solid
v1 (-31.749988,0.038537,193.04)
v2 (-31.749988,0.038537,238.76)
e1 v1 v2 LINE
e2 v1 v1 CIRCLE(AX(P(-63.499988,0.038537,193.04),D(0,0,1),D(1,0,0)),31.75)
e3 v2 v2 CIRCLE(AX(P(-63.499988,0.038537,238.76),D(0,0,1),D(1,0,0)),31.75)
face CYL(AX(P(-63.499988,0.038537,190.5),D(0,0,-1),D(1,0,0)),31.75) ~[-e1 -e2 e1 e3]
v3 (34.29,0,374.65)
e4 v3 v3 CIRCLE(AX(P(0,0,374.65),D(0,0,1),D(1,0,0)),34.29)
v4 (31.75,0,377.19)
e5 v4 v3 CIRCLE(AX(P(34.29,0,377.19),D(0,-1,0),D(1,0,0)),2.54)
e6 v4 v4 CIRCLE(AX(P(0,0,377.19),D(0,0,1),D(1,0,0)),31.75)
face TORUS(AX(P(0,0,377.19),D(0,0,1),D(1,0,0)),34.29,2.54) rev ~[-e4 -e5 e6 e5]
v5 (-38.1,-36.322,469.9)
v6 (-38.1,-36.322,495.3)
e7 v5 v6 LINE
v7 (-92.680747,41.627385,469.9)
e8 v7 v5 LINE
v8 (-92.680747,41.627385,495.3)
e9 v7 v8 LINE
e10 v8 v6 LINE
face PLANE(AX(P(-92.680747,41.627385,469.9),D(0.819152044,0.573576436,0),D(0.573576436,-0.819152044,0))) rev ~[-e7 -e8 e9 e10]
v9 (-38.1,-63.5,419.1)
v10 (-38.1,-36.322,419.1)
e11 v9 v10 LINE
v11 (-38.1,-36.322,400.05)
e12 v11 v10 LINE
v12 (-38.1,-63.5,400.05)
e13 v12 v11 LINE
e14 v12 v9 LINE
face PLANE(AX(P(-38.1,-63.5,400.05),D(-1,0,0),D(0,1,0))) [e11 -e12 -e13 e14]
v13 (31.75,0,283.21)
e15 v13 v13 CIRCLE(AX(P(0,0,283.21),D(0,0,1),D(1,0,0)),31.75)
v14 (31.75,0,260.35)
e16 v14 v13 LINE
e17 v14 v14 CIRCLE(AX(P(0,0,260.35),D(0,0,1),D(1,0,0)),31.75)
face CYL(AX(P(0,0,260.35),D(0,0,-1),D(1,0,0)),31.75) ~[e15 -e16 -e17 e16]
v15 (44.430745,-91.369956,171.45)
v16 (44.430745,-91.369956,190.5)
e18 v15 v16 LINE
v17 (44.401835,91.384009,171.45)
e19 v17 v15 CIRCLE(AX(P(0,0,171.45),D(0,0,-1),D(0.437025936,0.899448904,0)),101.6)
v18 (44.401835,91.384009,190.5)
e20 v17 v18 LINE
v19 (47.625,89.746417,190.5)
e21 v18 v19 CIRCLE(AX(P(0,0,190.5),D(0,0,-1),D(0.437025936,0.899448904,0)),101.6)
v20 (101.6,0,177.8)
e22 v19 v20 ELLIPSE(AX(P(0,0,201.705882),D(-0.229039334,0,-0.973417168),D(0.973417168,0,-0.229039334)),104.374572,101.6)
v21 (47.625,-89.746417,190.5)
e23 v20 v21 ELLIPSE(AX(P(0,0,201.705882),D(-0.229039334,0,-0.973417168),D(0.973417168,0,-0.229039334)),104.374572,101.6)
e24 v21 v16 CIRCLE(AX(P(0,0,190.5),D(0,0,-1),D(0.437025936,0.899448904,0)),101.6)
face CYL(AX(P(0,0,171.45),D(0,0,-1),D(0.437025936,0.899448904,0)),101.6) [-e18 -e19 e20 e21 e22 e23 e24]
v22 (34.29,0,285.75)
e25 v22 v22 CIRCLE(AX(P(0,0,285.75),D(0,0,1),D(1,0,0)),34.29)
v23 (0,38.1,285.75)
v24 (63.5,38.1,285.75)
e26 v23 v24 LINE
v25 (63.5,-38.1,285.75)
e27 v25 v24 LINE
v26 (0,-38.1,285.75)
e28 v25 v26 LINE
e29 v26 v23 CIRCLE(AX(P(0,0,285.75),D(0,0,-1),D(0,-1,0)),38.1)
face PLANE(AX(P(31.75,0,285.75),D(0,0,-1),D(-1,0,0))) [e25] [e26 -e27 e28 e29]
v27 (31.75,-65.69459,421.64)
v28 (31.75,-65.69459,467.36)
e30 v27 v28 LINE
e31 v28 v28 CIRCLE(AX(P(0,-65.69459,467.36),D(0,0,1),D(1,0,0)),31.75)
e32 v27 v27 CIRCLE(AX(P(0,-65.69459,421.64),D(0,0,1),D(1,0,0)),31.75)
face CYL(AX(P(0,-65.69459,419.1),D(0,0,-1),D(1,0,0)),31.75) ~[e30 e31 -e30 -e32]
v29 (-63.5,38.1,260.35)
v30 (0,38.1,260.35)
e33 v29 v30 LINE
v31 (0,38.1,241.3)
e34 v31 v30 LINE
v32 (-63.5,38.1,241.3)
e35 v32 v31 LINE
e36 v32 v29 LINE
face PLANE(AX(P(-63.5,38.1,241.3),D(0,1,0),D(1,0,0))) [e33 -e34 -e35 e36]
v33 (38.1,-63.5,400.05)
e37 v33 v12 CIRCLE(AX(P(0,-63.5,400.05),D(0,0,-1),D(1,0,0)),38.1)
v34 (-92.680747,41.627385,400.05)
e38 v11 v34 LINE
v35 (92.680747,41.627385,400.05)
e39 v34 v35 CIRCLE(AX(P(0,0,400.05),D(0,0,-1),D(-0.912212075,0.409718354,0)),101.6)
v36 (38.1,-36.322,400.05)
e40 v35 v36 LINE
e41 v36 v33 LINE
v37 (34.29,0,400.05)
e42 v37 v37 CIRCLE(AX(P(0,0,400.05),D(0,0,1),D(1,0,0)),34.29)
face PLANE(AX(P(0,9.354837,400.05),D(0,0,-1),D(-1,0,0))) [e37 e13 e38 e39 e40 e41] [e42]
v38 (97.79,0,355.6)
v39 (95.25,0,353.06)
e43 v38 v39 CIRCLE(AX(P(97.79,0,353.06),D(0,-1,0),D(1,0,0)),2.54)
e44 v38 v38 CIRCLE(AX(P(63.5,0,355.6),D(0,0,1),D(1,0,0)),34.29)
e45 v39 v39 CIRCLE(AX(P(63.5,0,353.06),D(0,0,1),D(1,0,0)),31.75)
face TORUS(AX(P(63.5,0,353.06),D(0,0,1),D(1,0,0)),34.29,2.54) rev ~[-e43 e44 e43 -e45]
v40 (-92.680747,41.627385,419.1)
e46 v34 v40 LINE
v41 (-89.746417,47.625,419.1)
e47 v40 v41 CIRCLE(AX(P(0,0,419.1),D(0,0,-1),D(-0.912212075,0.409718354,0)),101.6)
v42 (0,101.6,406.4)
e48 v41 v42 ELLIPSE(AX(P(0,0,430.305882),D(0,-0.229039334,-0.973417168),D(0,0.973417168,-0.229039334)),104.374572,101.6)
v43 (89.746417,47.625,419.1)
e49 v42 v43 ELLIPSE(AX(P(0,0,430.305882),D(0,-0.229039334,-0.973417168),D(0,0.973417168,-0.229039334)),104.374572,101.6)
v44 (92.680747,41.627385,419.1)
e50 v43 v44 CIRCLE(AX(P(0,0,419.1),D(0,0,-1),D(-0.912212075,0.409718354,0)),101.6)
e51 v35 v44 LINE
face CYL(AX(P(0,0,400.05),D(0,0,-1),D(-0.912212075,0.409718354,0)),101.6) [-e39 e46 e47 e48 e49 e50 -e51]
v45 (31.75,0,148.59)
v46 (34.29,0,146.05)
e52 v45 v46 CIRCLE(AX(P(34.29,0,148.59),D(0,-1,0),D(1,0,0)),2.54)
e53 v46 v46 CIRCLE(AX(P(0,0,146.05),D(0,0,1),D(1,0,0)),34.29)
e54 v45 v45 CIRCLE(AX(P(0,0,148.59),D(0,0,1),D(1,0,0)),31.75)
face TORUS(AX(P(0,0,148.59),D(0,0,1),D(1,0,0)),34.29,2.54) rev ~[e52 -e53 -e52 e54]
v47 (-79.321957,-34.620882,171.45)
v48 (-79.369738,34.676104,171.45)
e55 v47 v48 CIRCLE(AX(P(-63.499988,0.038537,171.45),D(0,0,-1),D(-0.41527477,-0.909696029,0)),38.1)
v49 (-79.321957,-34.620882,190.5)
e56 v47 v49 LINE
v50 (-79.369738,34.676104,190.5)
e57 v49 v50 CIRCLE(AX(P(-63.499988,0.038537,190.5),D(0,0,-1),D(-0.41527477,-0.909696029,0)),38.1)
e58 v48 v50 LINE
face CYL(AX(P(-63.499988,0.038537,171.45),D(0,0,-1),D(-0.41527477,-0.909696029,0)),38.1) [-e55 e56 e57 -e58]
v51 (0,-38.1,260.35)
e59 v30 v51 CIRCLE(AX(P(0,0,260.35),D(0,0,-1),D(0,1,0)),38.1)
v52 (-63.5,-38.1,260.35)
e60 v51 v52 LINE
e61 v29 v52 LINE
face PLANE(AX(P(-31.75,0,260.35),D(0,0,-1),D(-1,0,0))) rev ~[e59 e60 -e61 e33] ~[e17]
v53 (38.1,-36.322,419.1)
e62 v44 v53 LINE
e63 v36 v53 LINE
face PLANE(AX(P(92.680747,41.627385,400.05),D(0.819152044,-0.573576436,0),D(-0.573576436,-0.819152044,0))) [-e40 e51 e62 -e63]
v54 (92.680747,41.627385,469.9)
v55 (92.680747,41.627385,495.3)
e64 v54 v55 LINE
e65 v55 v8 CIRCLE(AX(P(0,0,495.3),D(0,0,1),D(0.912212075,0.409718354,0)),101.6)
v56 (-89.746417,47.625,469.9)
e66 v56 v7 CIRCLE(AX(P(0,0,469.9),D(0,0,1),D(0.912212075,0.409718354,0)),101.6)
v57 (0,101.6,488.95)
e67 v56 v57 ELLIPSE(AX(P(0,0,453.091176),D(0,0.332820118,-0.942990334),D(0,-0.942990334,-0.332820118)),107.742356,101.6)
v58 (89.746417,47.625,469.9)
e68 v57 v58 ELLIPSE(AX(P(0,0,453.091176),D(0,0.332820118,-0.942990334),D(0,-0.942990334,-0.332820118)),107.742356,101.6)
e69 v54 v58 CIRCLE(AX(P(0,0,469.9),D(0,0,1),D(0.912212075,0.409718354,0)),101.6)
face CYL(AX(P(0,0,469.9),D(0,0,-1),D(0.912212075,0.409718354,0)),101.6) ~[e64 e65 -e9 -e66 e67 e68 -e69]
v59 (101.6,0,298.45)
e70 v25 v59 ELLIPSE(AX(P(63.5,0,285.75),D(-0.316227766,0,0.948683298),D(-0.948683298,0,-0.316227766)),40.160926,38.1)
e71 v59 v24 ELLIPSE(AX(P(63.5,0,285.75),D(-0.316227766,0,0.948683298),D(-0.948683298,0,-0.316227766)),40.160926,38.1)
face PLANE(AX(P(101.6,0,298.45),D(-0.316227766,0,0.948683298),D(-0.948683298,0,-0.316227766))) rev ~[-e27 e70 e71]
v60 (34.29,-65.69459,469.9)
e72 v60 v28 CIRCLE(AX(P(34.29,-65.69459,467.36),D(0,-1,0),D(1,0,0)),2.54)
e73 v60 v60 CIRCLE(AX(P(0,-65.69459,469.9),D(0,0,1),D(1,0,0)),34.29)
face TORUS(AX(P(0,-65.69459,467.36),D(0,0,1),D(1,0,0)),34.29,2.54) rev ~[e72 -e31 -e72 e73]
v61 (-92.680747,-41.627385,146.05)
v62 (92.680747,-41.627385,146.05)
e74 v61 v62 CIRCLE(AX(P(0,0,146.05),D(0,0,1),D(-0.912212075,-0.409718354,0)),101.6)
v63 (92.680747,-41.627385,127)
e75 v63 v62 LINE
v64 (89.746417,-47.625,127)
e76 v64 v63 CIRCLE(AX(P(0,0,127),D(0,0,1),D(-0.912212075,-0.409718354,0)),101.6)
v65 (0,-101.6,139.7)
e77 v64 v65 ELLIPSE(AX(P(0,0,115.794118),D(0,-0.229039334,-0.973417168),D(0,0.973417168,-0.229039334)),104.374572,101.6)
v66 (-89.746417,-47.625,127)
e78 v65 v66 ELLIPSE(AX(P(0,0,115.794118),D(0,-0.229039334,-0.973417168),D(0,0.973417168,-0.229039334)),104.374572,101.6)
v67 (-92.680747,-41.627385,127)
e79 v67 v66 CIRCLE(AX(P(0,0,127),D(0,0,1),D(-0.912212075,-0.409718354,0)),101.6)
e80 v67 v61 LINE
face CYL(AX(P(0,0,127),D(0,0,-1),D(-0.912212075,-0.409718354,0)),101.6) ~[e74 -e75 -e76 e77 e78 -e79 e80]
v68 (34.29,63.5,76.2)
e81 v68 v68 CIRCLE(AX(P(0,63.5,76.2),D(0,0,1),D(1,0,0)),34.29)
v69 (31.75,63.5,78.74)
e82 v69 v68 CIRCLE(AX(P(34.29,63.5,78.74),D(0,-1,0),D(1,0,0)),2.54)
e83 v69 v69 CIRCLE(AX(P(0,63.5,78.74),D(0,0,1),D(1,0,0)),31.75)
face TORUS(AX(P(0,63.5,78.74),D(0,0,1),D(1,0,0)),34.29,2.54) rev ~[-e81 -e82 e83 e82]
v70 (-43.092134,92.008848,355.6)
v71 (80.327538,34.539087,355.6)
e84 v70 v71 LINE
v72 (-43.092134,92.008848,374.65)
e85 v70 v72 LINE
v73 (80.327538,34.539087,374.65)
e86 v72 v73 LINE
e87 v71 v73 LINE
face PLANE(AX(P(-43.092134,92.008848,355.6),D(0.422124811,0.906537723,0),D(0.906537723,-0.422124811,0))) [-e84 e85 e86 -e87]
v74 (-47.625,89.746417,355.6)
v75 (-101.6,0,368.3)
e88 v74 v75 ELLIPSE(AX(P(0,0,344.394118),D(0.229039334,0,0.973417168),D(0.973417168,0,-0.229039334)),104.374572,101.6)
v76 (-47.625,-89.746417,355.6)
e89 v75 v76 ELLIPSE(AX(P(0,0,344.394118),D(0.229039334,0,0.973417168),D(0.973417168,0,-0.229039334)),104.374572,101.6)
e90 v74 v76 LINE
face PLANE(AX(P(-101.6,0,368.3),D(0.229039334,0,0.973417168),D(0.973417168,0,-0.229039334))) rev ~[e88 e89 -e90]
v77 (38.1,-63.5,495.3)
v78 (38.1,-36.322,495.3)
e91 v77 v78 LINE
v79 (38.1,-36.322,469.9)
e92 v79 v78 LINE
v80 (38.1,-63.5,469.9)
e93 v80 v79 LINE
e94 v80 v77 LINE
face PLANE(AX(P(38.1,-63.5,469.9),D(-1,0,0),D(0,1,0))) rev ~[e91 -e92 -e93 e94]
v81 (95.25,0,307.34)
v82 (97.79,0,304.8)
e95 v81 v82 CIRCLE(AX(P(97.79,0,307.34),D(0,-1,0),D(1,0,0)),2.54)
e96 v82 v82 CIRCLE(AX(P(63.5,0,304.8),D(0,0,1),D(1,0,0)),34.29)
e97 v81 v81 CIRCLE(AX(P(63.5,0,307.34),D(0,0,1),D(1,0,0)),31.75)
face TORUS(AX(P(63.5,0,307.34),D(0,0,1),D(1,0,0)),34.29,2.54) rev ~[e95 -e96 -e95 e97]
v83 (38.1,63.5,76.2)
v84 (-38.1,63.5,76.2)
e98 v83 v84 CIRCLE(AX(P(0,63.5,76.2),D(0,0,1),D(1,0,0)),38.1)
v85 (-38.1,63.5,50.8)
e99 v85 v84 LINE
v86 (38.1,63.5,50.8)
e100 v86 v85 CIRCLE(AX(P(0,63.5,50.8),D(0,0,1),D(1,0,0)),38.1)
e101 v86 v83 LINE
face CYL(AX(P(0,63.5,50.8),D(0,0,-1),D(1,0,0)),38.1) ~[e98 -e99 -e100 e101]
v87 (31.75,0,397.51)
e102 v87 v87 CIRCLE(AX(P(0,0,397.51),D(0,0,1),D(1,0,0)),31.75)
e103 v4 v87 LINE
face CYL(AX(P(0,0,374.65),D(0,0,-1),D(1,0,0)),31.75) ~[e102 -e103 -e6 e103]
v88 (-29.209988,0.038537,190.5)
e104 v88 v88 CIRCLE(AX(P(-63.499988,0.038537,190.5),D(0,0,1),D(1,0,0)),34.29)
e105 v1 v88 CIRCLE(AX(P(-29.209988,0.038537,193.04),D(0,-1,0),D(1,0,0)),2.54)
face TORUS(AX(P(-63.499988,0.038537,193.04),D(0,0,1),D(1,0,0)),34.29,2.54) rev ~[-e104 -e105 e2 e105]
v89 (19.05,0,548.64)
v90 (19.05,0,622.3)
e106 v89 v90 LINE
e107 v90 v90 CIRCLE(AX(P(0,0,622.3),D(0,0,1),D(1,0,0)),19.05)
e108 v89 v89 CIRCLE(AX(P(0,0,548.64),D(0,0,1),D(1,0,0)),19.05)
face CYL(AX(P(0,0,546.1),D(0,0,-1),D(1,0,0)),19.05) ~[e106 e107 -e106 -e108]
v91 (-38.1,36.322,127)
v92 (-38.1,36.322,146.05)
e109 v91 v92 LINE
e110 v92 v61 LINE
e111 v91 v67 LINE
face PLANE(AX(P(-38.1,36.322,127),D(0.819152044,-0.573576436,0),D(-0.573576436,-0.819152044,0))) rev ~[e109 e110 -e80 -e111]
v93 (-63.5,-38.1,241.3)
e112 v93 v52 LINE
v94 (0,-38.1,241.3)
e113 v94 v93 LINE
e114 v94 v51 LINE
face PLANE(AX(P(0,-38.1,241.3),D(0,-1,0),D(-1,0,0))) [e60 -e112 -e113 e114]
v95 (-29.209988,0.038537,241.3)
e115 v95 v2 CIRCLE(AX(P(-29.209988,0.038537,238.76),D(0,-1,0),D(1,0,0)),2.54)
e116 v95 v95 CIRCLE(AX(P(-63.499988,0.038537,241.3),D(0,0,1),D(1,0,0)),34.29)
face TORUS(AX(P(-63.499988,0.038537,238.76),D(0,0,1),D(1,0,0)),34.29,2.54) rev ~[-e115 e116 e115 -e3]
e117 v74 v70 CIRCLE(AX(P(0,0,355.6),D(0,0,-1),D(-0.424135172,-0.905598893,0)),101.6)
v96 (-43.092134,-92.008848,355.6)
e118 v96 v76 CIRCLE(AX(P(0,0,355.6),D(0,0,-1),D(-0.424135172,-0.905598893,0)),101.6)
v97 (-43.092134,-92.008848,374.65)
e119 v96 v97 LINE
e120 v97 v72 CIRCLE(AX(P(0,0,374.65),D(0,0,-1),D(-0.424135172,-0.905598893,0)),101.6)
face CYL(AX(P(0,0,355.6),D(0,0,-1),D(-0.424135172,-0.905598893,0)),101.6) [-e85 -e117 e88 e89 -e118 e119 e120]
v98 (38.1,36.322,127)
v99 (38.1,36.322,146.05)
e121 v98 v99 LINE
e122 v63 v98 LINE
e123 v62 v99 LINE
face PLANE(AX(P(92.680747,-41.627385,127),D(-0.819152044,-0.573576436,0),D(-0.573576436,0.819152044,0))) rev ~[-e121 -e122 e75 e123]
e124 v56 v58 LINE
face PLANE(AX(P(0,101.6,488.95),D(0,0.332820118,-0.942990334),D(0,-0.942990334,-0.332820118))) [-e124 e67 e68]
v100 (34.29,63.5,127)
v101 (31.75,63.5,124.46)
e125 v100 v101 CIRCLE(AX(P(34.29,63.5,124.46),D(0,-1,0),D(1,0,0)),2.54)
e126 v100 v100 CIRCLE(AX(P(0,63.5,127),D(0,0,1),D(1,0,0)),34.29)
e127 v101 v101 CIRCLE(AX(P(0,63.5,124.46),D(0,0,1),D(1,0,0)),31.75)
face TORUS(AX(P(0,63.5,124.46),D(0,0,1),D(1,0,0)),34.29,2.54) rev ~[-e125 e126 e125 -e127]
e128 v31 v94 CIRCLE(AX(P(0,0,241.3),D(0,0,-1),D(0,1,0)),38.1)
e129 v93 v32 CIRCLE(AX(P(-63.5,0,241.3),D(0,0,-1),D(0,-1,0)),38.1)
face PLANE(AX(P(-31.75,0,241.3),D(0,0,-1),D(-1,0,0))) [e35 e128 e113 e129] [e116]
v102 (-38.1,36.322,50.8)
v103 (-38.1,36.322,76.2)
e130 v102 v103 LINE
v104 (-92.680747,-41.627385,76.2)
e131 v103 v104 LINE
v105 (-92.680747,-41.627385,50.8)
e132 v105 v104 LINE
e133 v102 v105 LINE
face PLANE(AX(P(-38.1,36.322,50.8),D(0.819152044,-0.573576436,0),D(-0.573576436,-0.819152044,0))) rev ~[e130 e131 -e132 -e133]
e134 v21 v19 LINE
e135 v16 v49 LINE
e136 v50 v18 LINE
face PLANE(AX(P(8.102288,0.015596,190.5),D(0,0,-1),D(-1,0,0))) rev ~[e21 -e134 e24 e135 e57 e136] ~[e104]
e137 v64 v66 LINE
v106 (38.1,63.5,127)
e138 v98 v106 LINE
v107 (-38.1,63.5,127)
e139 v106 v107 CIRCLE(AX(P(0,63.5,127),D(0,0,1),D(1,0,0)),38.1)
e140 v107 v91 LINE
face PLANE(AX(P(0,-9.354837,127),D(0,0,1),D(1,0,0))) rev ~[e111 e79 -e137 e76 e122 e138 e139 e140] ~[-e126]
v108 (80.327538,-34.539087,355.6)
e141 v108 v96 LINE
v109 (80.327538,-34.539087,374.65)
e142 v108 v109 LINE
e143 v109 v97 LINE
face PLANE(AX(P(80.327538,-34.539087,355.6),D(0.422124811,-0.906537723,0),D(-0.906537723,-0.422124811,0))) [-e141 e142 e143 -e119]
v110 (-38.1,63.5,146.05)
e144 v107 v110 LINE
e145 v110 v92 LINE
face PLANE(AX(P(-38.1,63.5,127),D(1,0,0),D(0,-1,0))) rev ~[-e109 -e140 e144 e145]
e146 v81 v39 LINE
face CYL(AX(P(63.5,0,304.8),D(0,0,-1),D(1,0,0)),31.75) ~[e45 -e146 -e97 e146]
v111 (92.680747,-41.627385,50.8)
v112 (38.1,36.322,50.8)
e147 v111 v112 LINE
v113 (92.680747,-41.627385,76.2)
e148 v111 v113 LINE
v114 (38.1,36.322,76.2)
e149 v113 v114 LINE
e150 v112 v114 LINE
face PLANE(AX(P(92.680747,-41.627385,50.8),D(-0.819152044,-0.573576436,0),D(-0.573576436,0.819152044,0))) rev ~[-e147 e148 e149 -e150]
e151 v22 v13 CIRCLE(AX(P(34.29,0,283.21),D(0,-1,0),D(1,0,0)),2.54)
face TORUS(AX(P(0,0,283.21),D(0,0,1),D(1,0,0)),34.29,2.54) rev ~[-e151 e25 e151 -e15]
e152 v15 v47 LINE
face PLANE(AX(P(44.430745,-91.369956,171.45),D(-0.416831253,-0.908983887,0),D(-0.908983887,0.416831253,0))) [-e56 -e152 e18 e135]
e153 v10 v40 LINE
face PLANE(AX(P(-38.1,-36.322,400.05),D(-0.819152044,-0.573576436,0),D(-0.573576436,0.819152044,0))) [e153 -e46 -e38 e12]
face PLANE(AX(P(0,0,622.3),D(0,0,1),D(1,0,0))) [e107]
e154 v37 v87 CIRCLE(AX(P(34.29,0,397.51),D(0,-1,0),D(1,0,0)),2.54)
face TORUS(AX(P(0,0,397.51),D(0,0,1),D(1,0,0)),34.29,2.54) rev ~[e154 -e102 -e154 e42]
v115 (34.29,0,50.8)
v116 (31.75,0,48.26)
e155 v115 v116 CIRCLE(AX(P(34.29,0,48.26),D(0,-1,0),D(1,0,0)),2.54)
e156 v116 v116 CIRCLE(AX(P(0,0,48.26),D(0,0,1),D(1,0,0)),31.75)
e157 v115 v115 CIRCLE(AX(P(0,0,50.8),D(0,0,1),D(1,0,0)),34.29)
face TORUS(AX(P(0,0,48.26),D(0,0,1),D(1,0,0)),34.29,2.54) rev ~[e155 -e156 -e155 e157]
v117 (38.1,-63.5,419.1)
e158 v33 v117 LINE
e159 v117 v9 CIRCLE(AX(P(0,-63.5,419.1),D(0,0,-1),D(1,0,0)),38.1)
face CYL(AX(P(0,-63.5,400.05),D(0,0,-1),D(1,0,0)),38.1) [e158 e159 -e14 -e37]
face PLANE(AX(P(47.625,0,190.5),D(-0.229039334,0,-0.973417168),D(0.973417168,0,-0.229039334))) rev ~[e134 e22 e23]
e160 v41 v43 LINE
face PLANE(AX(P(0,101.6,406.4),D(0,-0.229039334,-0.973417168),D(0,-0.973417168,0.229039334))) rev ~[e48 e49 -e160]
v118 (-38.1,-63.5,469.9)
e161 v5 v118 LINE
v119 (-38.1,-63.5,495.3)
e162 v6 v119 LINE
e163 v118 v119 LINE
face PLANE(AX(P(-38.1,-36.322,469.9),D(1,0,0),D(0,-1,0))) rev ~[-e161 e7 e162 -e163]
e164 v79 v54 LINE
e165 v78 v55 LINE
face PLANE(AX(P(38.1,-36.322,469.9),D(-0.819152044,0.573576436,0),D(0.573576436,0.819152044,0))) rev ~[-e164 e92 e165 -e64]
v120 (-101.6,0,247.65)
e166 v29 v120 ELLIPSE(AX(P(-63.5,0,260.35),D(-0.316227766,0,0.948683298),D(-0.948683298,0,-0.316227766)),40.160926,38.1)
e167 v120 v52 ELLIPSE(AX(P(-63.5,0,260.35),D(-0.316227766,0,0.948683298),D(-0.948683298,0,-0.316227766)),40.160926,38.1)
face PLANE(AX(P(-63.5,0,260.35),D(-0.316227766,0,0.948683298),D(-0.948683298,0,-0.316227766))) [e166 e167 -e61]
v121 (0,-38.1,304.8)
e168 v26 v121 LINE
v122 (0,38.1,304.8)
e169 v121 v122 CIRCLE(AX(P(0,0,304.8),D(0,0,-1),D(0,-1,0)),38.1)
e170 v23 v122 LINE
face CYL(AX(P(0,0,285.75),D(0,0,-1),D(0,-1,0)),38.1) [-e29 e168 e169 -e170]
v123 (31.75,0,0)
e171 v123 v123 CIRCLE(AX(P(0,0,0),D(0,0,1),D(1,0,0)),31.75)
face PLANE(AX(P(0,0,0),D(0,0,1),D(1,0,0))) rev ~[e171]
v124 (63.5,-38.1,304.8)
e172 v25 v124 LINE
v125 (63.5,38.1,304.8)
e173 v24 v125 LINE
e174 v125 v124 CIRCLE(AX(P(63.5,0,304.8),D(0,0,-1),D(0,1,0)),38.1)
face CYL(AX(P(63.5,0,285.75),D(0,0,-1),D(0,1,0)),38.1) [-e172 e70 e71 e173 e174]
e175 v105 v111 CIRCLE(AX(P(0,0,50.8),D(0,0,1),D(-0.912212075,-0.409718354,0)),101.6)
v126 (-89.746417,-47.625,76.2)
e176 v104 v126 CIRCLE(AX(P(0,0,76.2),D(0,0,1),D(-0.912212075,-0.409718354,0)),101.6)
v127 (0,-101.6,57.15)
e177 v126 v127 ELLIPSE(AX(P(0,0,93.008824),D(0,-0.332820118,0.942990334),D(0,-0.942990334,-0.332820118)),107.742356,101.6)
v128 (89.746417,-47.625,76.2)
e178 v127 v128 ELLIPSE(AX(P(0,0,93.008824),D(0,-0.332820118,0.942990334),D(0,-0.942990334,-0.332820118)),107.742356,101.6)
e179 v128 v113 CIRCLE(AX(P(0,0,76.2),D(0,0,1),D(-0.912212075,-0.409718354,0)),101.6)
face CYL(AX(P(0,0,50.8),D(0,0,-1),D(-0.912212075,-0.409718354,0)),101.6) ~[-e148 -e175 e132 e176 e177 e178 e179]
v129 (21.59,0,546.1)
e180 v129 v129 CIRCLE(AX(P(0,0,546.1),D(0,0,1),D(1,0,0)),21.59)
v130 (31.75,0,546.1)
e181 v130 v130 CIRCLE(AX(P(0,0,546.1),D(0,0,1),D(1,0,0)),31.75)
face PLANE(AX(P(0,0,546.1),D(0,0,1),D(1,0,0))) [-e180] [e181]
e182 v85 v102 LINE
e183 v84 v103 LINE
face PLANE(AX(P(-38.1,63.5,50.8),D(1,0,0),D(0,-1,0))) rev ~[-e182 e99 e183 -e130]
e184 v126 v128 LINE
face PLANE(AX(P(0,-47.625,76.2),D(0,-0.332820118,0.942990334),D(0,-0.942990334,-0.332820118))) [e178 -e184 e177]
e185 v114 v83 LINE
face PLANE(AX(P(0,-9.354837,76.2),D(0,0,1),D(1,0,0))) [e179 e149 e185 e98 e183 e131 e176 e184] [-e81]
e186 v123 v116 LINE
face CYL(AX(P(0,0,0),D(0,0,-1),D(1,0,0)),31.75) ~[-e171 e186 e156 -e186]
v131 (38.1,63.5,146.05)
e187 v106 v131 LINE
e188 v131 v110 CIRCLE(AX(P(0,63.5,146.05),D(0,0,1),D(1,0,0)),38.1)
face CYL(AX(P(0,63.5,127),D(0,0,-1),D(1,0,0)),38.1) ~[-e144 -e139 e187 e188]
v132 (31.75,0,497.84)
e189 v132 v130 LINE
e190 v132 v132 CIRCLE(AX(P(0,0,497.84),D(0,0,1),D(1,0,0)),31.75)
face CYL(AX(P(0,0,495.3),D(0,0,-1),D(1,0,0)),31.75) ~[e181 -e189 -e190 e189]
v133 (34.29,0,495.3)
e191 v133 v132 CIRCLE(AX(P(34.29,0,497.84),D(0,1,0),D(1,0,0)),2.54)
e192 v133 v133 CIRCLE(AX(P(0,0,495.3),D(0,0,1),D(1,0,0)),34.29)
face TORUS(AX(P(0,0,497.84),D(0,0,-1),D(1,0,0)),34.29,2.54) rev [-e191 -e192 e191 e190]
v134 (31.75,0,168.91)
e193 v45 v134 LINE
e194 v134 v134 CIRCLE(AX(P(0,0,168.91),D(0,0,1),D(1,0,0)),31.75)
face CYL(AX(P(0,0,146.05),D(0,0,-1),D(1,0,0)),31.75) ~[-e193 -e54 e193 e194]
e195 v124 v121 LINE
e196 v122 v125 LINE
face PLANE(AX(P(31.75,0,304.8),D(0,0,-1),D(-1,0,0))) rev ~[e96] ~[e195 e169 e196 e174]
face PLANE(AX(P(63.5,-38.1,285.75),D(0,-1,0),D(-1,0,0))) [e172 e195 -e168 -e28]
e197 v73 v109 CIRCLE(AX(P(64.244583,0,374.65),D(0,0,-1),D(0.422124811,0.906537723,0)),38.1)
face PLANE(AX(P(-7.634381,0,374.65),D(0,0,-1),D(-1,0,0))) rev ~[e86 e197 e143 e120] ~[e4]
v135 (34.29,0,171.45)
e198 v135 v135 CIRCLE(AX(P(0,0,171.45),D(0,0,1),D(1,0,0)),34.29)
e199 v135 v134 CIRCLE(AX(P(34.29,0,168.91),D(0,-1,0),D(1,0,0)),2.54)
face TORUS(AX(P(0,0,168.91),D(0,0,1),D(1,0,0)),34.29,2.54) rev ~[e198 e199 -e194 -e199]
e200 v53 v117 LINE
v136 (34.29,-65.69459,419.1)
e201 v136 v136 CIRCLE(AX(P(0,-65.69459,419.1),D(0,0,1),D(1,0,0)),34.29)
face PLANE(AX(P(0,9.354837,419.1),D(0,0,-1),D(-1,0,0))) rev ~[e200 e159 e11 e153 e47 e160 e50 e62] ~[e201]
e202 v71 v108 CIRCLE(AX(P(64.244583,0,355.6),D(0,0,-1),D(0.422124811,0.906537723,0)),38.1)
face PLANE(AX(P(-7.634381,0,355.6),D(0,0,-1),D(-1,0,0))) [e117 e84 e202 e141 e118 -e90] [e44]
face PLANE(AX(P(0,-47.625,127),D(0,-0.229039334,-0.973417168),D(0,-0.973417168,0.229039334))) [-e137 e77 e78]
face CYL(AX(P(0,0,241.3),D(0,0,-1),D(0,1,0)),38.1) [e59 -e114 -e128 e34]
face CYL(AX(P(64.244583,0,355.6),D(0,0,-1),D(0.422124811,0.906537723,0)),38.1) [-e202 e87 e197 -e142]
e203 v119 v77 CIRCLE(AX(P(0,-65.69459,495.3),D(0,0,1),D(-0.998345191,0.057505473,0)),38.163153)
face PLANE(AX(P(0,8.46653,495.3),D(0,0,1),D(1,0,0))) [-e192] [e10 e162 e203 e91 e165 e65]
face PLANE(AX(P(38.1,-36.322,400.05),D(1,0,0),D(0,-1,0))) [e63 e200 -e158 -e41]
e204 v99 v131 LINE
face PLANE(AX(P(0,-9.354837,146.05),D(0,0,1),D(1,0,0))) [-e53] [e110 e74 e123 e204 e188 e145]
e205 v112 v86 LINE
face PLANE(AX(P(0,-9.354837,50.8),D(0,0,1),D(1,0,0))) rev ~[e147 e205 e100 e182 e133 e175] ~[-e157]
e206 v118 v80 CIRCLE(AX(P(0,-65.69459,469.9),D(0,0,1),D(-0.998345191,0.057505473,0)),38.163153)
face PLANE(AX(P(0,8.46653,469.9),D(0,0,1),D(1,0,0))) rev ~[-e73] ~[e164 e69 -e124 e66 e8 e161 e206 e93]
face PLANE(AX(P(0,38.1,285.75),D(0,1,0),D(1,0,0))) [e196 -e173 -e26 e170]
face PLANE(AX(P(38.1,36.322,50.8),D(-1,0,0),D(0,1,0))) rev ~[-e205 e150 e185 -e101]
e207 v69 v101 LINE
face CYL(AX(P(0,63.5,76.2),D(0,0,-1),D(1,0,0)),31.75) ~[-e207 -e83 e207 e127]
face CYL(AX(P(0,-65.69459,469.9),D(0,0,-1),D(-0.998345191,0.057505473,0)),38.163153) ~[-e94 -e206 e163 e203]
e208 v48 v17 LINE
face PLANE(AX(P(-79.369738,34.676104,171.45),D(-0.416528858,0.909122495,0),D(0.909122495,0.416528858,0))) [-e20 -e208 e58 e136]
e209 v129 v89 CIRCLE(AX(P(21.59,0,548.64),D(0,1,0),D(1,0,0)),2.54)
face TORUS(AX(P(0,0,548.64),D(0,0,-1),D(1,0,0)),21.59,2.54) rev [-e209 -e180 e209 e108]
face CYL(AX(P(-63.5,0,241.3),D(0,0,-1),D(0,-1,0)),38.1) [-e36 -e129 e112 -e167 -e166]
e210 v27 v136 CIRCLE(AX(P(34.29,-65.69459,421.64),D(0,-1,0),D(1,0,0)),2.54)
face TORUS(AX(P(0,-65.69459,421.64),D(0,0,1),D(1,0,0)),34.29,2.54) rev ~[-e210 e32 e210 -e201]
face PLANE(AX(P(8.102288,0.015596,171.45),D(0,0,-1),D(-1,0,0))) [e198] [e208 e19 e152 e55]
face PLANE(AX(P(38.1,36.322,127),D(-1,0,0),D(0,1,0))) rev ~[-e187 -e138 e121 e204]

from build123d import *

# Parameters (mm, degrees)
SKETCH1_R            = 31.75
BOSS_EXTRUDE1_DEPTH  = 50.8
BOSS_EXTRUDE2_DEPTH  = 25.4
SKETCH3_R            = 31.75
BOSS_EXTRUDE3_DEPTH  = 50.8
BOSS_EXTRUDE4_DEPTH  = 19.05
SKETCH5_R            = 31.75
BOSS_EXTRUDE5_DEPTH  = 25.4
BOSS_EXTRUDE6_DEPTH  = 19.05
SKETCH7_R            = 31.75
BOSS_EXTRUDE7_DEPTH  = 50.8
BOSS_EXTRUDE8_DEPTH  = 19.05
SKETCH9_R            = 31.75
BOSS_EXTRUDE9_DEPTH  = 25.4
BOSS_EXTRUDE10_DEPTH = 19.05
SKETCH11_R           = 31.75
BOSS_EXTRUDE11_DEPTH = 50.8
BOSS_EXTRUDE12_DEPTH = 19.05
SKETCH13_R           = 31.75
BOSS_EXTRUDE13_DEPTH = 25.4
BOSS_EXTRUDE14_DEPTH = 19.05
SKETCH16_R           = 31.75
BOSS_EXTRUDE15_DEPTH = 50.8
BOSS_EXTRUDE16_DEPTH = 25.4
SKETCH18_R           = 31.75
BOSS_EXTRUDE17_DEPTH = 50.8
SKETCH19_R           = 19.05
BOSS_EXTRUDE18_DEPTH = 76.2
FILLET1_R            = 2.54
CUT_EXTRUDE1_DEPTH   = 138.557
CUT_EXTRUDE2_DEPTH   = 142.24


with BuildPart() as part:
    # Sketch1 → Boss-Extrude1 (new body)
    with BuildSketch(Plane.XY):
        Circle(SKETCH1_R)
    extrude(amount=BOSS_EXTRUDE1_DEPTH)

    # Sketch2 → Boss-Extrude2 (add)
    with BuildSketch(Plane.XY.offset(50.8)):
        with BuildLine():
            Line((-38.1, 63.5), (-38.1, 36.322))
            Line((-38.1, 36.322), (-92.680746838, -41.627384803))
            ThreePointArc((-92.680746838, -41.627384803), (0, -101.6), (92.680746838, -41.627384803))
            Line((92.680746838, -41.627384803), (38.1, 36.322))
            Line((38.1, 36.322), (38.1, 63.5))
            ThreePointArc((38.1, 63.5), (0, 101.6), (-38.1, 63.5))
        make_face()
    extrude(amount=BOSS_EXTRUDE2_DEPTH)

    # Sketch3 → Boss-Extrude3 (add)
    with BuildSketch(Plane.XY.offset(76.2)):
        with Locations((0, 63.5)):
            Circle(SKETCH3_R)
    extrude(amount=BOSS_EXTRUDE3_DEPTH)

    # Sketch4 → Boss-Extrude4 (add)
    with BuildSketch(Plane.XY.offset(127)):
        with BuildLine():
            Line((-38.1, 63.5), (-38.1, 36.322))
            Line((-38.1, 36.322), (-92.680746838, -41.627384803))
            ThreePointArc((-92.680746838, -41.627384803), (0, -101.6), (92.680746838, -41.627384803))
            Line((92.680746838, -41.627384803), (38.1, 36.322))
            Line((38.1, 36.322), (38.1, 63.5))
            ThreePointArc((38.1, 63.5), (0, 101.6), (-38.1, 63.5))
        make_face()
    extrude(amount=BOSS_EXTRUDE4_DEPTH)

    # Sketch5 → Boss-Extrude5 (add)
    with BuildSketch(Plane.XY.offset(146.05)):
        Circle(SKETCH5_R)
    extrude(amount=BOSS_EXTRUDE5_DEPTH)

    # Sketch6 → Boss-Extrude6 (add)
    with BuildSketch(Plane.XY.offset(171.45)):
        with BuildLine():
            Line((-79.369737814, 34.676103768), (44.401835082, 91.384008674))
            ThreePointArc((44.401835082, 91.384008674), (101.599998729, 0.016072292), (44.43074527, -91.369956084))
            Line((44.43074527, -91.369956084), (-79.321957026, -34.620881991))
            ThreePointArc((-79.321957026, -34.620881991), (-101.59997925, 0.012266499), (-79.369737814, 34.676103768))
        make_face()
    extrude(amount=BOSS_EXTRUDE6_DEPTH)

    # Sketch7 → Boss-Extrude7 (add)
    with BuildSketch(Plane.XY.offset(190.5)):
        with Locations((-63.499988306, 0.038536726)):
            Circle(SKETCH7_R)
    extrude(amount=BOSS_EXTRUDE7_DEPTH)

    # Sketch8 → Boss-Extrude8 (add)
    with BuildSketch(Plane.XY.offset(241.3)):
        with BuildLine():
            Line((-63.5, 38.1), (0, 38.1))
            ThreePointArc((0, 38.1), (38.1, 0), (0, -38.1))
            Line((0, -38.1), (-63.5, -38.1))
            ThreePointArc((-63.5, -38.1), (-101.6, 0), (-63.5, 38.1))
        make_face()
    extrude(amount=BOSS_EXTRUDE8_DEPTH)

    # Sketch9 → Boss-Extrude9 (add)
    with BuildSketch(Plane.XY.offset(260.35)):
        Circle(SKETCH9_R)
    extrude(amount=BOSS_EXTRUDE9_DEPTH)

    # Sketch10 → Boss-Extrude10 (add)
    with BuildSketch(Plane.XY.offset(285.75)):
        with BuildLine():
            Line((0, 38.1), (63.5, 38.1))
            ThreePointArc((63.5, 38.1), (101.6, 0), (63.5, -38.1))
            Line((63.5, -38.1), (0, -38.1))
            ThreePointArc((0, -38.1), (-38.1, 0), (0, 38.1))
        make_face()
    extrude(amount=BOSS_EXTRUDE10_DEPTH)

    # Sketch11 → Boss-Extrude11 (add)
    with BuildSketch(Plane.XY.offset(304.8)):
        with Locations((63.5, 0)):
            Circle(SKETCH11_R)
    extrude(amount=BOSS_EXTRUDE11_DEPTH)

    # Sketch12 → Boss-Extrude12 (add)
    with BuildSketch(Plane.XY.offset(355.6)):
        with BuildLine():
            Line((-43.092133514, 92.00884756), (80.327538284, 34.539087257))
            ThreePointArc((80.327538284, 34.539087257), (102.344582976, 0), (80.327538284, -34.539087257))
            Line((80.327538284, -34.539087257), (-43.092133514, -92.00884756))
            ThreePointArc((-43.092133514, -92.00884756), (-101.6, 0), (-43.092133514, 92.00884756))
        make_face()
    extrude(amount=BOSS_EXTRUDE12_DEPTH)

    # Sketch13 → Boss-Extrude13 (add)
    with BuildSketch(Plane.XY.offset(374.65)):
        Circle(SKETCH13_R)
    extrude(amount=BOSS_EXTRUDE13_DEPTH)

    # Sketch15 → Boss-Extrude14 (add)
    with BuildSketch(Plane.XY.offset(400.05)):
        with BuildLine():
            Line((-38.1, -63.5), (-38.1, -36.322))
            Line((-38.1, -36.322), (-92.680746838, 41.627384803))
            ThreePointArc((-92.680746838, 41.627384803), (0, 101.6), (92.680746838, 41.627384803))
            Line((92.680746838, 41.627384803), (38.1, -36.322))
            Line((38.1, -36.322), (38.1, -63.5))
            ThreePointArc((38.1, -63.5), (0, -101.6), (-38.1, -63.5))
        make_face()
    extrude(amount=BOSS_EXTRUDE14_DEPTH)

    # Sketch16 → Boss-Extrude15 (add)
    with BuildSketch(Plane.XY.offset(419.1)):
        with Locations((0, -65.694590163)):
            Circle(SKETCH16_R)
    extrude(amount=BOSS_EXTRUDE15_DEPTH)

    # Sketch17 → Boss-Extrude16 (add)
    with BuildSketch(Plane.XY.offset(469.9)):
        with BuildLine():
            Line((-92.680746838, 41.627384803), (-38.1, -36.322))
            Line((-38.1, -36.322), (-38.1, -63.5))
            ThreePointArc((-38.1, -63.5), (0, -103.857742889), (38.1, -63.5))
            Line((38.1, -63.5), (38.1, -36.322))
            Line((38.1, -36.322), (92.680746838, 41.627384803))
            ThreePointArc((92.680746838, 41.627384803), (0, 101.6), (-92.680746838, 41.627384803))
        make_face()
    extrude(amount=BOSS_EXTRUDE16_DEPTH)

    # Sketch18 → Boss-Extrude17 (add)
    with BuildSketch(Plane.XY.offset(495.3)):
        Circle(SKETCH18_R)
    extrude(amount=BOSS_EXTRUDE17_DEPTH)

    # Sketch19 → Boss-Extrude18 (add)
    with BuildSketch(Plane.XY.offset(546.1)):
        Circle(SKETCH19_R)
    extrude(amount=BOSS_EXTRUDE18_DEPTH)

    # Fillet1
    fillet1_edges = [part.edges().sort_by_distance(p)[0] for p in [
        (-31.75, 0, 374.65),
        (-31.75, 0, 400.05),
        (-31.75, -65.694590163, 419.1),
        (-31.75, -65.694590163, 469.9),
        (-31.75, 0, 495.3),
        (-19.05, 0, 546.1),
        (-31.75, 63.5, 76.2),
        (-31.75, 63.5, 127),
        (-31.75, 0, 50.8),
        (-31.75, 0, 146.05),
        (-31.75, 0, 171.45),
        (-95.249988306, 0.038536726, 190.5),
        (-95.249988306, 0.038536726, 241.3),
        (-31.75, 0, 285.75),
        (31.75, 0, 304.8),
        (31.75, 0, 355.6),
    ]]
    fillet(fillet1_edges, radius=FILLET1_R)

    # Sketch20 → Cut-Extrude1 (cut, symmetric)
    with BuildSketch(Plane(origin=(0, 0, 0), x_dir=(0, 0, -1), z_dir=(1, 0, 0))):
        Polygon((-488.95, 101.6), (-469.9, 47.625), (-469.9, 101.6), align=None)
        Polygon((-419.1, 47.625), (-419.1, 101.6), (-406.4, 101.6), align=None)
        Polygon((-139.7, -101.6), (-127, -101.6), (-127, -47.625), align=None)
        Polygon((-57.15, -101.6), (-76.2, -101.6), (-76.2, -47.625), align=None)
    extrude(amount=CUT_EXTRUDE1_DEPTH, both=True, mode=Mode.SUBTRACT)

    # Sketch21 → Cut-Extrude2 (cut, symmetric)
    with BuildSketch(Plane(origin=(0, 0, 0), x_dir=(1, 0, 0), z_dir=(0, 1, 0))):
        Polygon((101.6, -177.8), (101.6, -190.5), (47.625, -190.5), align=None)
        Polygon((-101.6, -247.65), (-101.6, -260.35), (-63.5, -260.35), align=None)
        Polygon((63.5, -285.75), (101.6, -285.75), (101.6, -298.45), align=None)
        Polygon((-101.6, -355.6), (-101.6, -368.3), (-47.625, -355.6), align=None)
    extrude(amount=CUT_EXTRUDE2_DEPTH, both=True, mode=Mode.SUBTRACT)


solid = part.part
